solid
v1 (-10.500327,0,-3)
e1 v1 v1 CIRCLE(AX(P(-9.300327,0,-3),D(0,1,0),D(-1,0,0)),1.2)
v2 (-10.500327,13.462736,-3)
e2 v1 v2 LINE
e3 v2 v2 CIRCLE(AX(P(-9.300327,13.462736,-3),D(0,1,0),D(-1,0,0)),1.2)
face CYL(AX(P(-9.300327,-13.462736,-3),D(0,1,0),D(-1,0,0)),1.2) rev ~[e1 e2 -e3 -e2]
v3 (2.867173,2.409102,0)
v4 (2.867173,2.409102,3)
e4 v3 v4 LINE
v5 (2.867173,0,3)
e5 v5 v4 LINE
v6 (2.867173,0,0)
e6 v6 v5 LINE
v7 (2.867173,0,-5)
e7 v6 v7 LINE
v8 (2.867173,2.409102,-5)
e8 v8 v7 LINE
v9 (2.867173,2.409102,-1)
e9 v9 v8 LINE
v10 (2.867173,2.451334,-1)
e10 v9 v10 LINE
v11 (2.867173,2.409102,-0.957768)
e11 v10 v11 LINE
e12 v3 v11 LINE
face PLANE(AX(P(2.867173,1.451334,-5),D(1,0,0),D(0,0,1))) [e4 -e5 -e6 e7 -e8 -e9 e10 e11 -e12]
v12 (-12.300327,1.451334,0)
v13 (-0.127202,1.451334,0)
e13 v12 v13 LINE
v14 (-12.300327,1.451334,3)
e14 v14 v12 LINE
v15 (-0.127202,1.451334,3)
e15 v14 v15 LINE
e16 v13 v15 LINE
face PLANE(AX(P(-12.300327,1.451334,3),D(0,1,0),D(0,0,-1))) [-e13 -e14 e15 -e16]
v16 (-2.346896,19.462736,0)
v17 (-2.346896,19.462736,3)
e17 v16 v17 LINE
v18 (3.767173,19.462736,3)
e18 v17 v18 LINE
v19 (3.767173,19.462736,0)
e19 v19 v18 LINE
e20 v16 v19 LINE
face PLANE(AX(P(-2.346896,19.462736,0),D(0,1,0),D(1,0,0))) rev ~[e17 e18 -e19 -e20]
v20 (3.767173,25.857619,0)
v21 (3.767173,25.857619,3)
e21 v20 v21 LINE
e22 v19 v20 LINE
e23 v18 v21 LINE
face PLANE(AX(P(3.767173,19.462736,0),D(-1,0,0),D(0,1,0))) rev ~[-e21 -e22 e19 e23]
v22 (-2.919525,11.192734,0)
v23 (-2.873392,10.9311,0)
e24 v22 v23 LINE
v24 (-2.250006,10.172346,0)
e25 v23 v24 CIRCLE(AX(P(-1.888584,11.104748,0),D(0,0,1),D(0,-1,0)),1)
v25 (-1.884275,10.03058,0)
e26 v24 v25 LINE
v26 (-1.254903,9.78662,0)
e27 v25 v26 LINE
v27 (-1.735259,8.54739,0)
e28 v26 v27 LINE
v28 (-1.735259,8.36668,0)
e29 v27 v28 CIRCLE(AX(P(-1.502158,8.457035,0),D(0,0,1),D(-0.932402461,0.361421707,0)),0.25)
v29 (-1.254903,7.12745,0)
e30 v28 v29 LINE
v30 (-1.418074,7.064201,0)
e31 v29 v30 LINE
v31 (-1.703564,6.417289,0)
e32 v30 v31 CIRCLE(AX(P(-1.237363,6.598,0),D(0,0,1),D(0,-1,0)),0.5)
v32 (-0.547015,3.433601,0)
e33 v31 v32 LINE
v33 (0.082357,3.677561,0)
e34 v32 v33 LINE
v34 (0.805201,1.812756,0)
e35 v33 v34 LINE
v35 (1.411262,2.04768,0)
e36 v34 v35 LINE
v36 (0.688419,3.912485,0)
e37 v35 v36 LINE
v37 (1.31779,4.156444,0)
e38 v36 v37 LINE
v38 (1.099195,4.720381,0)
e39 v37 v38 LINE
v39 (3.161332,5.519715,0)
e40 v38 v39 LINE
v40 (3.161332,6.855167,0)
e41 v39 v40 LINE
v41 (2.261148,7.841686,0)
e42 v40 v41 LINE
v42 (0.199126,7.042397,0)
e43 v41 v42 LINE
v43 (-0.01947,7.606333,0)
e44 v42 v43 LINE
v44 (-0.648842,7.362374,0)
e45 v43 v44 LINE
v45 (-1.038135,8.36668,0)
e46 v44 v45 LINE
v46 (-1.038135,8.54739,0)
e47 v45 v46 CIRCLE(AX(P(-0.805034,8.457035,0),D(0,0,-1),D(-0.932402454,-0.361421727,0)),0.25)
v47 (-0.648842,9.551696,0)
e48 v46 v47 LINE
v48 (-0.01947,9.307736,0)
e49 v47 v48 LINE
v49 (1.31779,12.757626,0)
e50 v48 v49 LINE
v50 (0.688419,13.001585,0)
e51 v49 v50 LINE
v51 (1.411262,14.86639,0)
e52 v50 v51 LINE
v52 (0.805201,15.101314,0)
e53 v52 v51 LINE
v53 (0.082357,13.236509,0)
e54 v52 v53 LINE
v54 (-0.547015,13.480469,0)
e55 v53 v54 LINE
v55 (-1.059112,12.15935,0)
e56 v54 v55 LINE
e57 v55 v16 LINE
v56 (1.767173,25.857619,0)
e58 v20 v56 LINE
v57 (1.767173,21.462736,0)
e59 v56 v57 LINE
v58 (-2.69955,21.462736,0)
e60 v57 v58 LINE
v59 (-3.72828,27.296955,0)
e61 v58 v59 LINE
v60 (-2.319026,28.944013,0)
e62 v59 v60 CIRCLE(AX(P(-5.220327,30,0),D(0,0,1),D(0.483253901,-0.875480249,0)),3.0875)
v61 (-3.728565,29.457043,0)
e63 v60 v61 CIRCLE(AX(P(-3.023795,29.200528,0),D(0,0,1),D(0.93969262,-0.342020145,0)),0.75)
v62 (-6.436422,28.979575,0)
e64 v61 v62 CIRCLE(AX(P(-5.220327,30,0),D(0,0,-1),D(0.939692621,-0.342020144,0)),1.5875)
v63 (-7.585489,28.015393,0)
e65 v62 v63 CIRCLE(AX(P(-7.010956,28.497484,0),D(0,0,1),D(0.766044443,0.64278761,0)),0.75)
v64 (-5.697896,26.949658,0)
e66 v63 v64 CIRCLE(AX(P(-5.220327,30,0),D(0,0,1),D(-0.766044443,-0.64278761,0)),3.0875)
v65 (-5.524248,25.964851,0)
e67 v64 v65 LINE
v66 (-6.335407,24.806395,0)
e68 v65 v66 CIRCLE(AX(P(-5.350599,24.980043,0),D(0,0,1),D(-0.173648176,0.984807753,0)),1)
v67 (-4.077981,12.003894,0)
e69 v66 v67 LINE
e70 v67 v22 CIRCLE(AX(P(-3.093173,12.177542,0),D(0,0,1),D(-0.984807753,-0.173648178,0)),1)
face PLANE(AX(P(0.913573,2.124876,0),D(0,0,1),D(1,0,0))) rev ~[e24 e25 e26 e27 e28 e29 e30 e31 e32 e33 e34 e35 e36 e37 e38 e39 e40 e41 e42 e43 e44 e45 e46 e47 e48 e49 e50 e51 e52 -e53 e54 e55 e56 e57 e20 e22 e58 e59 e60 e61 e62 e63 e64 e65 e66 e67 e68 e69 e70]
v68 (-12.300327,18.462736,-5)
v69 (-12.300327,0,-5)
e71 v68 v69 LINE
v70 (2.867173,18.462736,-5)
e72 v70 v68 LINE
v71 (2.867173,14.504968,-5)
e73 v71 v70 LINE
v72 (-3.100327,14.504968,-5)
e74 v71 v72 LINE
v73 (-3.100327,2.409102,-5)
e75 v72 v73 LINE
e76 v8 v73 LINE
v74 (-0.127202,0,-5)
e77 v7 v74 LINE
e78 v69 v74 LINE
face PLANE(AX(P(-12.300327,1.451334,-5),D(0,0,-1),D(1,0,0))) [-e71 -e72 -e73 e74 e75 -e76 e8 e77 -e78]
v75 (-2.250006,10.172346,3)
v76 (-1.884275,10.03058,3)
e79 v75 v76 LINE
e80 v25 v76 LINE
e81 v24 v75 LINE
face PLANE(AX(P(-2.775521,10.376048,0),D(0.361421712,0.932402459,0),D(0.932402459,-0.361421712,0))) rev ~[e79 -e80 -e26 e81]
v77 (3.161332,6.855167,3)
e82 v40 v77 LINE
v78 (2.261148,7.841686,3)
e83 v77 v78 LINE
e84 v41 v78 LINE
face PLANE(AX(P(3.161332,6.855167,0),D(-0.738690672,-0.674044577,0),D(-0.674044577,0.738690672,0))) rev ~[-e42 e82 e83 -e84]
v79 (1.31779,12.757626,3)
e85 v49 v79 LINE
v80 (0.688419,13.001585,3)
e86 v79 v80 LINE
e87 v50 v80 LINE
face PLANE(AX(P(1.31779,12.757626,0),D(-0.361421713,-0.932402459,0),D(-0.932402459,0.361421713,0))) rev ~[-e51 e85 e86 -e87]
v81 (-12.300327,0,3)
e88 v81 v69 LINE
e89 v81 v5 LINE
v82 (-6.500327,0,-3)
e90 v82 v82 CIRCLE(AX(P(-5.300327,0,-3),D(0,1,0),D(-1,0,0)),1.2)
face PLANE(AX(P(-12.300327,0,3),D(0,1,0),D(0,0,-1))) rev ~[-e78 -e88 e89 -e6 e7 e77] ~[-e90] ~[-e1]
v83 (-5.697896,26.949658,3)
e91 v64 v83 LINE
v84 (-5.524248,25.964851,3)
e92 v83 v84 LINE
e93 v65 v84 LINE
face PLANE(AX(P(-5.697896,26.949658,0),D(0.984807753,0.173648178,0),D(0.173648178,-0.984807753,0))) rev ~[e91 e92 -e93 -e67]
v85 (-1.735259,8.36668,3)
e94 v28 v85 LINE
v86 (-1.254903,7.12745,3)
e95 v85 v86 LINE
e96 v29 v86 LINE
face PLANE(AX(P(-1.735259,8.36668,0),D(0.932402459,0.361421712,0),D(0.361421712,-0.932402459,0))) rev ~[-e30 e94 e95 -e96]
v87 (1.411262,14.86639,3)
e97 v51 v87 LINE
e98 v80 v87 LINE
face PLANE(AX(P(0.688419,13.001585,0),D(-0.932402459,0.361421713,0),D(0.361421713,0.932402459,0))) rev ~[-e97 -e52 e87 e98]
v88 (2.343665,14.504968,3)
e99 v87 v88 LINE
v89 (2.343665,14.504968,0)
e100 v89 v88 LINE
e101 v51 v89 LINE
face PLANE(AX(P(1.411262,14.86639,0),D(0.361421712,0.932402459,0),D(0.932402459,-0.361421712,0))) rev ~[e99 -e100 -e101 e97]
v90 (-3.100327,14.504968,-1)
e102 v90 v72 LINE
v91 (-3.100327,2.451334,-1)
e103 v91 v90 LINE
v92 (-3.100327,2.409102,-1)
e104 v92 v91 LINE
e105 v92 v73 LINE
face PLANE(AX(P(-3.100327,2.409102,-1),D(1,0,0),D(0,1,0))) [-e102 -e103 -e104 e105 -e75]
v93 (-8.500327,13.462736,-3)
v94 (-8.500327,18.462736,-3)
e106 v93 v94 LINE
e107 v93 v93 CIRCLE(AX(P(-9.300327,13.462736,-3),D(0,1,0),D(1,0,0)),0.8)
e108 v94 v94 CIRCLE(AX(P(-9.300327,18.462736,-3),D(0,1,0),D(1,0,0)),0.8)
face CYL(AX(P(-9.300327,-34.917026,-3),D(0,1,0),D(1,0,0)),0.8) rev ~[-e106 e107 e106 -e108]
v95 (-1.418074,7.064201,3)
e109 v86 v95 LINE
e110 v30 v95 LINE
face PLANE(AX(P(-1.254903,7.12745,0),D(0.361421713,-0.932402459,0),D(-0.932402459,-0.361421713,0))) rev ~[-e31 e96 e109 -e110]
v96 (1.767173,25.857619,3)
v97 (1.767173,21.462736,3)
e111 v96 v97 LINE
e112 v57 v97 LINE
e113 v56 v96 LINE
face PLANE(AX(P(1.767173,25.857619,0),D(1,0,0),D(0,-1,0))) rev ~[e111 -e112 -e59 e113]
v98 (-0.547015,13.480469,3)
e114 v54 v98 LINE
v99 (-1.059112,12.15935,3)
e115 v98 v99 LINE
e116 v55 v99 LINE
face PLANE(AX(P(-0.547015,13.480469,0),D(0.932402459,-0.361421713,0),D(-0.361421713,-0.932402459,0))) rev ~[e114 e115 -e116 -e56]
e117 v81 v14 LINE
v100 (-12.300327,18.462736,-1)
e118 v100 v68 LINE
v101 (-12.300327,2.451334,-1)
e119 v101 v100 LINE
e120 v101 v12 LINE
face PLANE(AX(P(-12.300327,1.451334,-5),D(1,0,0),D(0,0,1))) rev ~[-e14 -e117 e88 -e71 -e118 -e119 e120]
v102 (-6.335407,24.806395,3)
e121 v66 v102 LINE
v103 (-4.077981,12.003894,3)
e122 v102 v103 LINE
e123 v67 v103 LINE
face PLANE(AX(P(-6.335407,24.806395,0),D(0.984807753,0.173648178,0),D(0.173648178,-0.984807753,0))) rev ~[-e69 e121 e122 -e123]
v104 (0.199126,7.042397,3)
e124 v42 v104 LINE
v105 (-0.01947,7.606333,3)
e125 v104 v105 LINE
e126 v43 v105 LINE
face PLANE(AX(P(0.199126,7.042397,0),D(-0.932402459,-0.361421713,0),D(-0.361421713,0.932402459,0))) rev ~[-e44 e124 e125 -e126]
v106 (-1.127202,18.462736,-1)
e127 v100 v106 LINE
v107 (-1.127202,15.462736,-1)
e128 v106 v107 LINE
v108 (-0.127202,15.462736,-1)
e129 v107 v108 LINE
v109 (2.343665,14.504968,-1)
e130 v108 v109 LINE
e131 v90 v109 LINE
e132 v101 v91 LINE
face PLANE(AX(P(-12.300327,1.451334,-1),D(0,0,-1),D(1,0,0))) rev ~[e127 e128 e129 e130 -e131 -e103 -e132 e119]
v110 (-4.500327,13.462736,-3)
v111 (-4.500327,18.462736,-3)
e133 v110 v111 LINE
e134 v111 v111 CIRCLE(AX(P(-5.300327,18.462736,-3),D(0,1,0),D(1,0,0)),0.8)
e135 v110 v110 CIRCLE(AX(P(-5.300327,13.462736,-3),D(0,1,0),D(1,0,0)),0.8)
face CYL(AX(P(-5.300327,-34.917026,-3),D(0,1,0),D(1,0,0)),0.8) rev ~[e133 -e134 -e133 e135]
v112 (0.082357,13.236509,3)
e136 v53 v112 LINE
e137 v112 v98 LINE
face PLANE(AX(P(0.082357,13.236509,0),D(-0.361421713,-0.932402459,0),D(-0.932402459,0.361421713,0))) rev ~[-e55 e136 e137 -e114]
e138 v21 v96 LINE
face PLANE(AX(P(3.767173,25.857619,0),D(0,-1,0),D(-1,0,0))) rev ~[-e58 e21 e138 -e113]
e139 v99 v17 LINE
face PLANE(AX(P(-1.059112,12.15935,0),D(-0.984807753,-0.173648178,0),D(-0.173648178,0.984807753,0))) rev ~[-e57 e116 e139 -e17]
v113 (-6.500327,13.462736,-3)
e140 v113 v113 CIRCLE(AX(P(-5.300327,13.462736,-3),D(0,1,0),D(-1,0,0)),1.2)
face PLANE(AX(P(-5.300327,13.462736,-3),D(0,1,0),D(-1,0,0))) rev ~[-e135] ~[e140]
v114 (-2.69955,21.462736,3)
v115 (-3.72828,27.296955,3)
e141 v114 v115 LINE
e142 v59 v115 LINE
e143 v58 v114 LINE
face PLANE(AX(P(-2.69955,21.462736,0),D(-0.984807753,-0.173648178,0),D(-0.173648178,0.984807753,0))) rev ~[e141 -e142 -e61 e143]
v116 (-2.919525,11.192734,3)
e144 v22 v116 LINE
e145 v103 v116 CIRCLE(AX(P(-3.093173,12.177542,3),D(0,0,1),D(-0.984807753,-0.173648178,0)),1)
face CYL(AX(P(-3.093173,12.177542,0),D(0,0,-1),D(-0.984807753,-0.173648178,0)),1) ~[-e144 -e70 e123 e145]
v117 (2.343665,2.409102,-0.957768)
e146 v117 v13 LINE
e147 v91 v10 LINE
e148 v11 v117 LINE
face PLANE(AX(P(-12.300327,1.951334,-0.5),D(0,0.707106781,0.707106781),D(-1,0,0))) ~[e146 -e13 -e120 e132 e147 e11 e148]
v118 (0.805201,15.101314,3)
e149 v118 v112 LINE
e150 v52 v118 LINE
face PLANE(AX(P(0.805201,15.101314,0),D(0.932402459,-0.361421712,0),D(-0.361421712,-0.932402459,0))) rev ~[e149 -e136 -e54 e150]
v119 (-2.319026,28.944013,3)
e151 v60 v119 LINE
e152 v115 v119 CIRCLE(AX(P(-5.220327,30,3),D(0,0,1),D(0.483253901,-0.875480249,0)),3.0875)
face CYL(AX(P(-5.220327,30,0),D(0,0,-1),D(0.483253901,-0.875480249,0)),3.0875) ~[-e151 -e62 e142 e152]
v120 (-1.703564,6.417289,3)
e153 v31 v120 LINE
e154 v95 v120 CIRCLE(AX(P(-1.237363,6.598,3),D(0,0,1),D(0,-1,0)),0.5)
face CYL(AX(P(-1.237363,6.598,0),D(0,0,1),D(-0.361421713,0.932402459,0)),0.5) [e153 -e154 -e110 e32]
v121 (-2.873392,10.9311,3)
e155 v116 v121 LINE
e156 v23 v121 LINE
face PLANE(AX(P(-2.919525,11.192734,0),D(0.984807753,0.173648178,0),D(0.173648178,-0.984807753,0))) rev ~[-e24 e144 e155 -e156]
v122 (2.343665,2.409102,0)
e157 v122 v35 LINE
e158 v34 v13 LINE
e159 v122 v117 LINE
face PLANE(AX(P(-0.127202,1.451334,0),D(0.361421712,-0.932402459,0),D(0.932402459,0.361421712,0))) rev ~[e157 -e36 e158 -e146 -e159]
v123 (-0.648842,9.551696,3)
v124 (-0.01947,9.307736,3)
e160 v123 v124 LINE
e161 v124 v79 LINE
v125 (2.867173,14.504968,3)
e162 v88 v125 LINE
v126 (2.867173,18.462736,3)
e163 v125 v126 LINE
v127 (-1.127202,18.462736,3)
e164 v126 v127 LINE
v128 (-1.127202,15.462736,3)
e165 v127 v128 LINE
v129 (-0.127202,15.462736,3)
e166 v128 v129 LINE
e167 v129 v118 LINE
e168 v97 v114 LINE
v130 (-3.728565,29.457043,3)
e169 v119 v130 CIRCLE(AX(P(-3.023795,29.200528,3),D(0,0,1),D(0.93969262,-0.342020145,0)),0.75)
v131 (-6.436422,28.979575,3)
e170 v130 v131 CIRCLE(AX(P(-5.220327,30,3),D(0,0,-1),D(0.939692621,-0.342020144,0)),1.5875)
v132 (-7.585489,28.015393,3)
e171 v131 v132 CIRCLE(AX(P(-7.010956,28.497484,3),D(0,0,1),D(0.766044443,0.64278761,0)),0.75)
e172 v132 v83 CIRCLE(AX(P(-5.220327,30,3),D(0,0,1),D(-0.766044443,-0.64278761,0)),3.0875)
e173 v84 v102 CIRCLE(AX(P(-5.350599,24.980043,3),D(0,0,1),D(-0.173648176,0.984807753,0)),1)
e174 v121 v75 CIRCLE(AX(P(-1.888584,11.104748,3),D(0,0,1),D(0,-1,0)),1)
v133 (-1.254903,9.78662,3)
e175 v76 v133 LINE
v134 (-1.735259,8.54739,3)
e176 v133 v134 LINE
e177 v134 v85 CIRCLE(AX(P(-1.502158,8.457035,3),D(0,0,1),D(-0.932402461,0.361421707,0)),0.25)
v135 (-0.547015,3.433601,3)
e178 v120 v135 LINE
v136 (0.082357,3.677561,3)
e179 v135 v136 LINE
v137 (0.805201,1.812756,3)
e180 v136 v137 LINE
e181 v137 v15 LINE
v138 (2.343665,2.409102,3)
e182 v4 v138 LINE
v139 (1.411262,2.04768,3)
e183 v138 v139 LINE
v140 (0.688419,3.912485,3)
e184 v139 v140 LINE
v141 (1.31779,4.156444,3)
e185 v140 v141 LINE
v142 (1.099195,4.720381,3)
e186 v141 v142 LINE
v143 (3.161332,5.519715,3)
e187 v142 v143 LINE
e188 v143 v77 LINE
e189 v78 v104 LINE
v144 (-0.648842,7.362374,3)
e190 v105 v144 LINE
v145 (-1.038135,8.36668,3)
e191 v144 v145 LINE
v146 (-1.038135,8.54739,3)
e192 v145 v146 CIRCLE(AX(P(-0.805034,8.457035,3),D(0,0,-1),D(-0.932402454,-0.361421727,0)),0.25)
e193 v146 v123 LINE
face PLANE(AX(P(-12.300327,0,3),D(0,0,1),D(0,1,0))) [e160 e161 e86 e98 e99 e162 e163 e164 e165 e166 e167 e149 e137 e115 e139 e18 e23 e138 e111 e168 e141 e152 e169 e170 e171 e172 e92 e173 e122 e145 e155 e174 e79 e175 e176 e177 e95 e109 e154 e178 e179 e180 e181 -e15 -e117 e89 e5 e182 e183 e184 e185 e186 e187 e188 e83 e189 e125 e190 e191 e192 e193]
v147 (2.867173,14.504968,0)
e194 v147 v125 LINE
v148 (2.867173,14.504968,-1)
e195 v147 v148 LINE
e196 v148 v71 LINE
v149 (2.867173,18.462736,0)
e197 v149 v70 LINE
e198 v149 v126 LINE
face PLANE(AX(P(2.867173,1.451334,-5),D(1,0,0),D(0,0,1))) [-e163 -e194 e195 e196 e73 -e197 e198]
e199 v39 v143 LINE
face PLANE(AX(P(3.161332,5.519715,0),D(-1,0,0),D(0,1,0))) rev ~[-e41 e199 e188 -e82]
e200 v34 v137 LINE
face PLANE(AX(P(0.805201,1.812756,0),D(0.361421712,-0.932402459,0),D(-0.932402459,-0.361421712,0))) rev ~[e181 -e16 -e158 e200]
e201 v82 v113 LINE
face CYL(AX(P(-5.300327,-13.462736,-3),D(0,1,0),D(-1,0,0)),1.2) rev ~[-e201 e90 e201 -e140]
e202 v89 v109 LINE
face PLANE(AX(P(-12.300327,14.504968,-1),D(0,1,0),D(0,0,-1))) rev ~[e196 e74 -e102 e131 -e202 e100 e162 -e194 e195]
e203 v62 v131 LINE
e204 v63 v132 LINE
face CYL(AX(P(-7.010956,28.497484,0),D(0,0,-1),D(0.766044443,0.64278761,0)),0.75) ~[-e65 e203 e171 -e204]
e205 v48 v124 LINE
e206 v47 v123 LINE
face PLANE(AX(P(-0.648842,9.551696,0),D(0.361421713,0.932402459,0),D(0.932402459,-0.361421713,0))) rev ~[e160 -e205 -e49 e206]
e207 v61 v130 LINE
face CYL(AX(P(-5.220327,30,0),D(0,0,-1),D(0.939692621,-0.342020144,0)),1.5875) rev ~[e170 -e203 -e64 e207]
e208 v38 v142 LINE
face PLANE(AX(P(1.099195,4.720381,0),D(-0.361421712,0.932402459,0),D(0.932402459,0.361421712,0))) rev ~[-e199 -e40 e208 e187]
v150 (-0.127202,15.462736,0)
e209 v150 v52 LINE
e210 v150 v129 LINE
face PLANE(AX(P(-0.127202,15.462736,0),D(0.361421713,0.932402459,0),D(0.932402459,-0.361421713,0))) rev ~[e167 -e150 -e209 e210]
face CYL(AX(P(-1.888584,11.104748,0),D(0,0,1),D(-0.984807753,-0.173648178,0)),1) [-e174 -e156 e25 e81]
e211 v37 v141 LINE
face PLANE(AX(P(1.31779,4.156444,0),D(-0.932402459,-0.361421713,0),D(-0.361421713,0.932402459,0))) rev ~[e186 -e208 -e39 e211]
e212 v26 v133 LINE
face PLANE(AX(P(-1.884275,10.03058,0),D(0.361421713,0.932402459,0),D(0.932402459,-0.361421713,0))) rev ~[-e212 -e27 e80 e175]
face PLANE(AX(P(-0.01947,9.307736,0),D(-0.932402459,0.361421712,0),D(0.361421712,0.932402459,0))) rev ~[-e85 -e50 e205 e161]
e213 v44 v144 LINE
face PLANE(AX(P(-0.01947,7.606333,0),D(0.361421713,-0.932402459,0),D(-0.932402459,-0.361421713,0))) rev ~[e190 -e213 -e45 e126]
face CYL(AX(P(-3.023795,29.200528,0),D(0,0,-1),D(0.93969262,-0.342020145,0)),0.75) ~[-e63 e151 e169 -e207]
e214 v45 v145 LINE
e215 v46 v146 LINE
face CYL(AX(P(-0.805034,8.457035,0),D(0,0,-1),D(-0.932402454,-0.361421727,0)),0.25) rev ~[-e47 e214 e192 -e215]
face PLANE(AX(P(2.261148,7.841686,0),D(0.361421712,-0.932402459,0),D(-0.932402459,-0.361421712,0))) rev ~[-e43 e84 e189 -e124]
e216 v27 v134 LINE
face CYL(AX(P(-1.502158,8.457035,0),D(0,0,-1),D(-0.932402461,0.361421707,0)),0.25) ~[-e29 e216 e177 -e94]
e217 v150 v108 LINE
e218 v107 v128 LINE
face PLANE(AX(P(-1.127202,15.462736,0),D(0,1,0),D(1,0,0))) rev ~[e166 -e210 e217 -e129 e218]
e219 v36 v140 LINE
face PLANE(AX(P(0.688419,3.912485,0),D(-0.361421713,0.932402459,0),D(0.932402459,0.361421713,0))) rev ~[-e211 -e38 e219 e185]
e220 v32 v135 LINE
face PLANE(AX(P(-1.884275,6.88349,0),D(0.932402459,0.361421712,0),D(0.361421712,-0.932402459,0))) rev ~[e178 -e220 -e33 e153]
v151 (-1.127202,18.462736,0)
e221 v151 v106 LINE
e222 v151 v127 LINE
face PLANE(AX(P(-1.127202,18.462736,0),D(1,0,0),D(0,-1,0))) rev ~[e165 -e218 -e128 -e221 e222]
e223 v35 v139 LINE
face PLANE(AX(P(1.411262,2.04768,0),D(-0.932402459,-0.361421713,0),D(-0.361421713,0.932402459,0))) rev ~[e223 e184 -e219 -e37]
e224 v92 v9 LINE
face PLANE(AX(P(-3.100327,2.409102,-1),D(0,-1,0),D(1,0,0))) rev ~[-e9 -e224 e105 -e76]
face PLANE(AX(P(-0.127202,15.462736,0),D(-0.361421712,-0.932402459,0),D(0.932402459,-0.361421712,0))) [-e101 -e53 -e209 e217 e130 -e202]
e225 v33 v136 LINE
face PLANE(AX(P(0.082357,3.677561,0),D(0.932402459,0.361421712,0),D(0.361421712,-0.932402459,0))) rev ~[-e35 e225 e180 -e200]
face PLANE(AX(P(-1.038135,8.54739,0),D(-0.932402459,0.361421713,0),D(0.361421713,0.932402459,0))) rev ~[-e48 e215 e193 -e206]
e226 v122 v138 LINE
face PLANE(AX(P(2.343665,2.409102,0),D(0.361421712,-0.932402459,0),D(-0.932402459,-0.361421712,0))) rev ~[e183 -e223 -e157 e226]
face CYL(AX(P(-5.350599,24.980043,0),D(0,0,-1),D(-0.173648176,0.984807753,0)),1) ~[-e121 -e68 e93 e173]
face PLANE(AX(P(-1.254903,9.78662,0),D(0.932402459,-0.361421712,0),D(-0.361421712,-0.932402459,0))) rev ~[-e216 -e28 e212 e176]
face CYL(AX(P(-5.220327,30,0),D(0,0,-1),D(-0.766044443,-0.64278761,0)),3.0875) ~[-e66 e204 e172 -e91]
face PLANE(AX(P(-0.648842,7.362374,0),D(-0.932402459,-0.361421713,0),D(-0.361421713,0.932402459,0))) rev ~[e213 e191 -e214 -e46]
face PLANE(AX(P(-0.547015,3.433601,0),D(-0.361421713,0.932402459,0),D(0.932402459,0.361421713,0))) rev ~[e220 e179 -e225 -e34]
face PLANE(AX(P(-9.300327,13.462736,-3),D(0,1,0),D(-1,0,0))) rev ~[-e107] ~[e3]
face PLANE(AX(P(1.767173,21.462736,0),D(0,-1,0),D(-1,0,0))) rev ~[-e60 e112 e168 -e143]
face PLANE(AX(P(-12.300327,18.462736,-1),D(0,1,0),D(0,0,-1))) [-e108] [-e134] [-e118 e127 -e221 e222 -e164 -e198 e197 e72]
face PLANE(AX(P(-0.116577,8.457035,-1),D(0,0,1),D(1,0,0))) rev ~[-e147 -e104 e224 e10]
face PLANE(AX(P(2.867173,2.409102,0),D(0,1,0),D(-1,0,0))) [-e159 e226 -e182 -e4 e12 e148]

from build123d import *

# Parameters (mm, degrees)
BOSS_SWITCH_BODY_DEPTH            = 3
SKETCH1_W                         = 2.994375291
SKETCH1_H                         = 2.409101515
SKETCH1_W_2                       = 3.994375291
SKETCH1_H_2                       = 3.957767538
BOSS_FLANGE_WIDTH_DEPTH           = 5
BOSS_FLANGE_HEIGHT_REACH          = 36.354
SKETCH2_W                         = 4
SKETCH2_H                         = 3.957767538
SKETCH2_W_2                       = 8
SKETCH2_H_2                       = 1.451333978
SKETCH17_W                        = 15.1675
SKETCH17_H                        = 4
BOSS_FLANGE_SUPPORT_DEPTH         = 13.053634428
CUT_WALL_GAP_DEPTH                = 1
TAP_DRILL_FOR_M2X0_4_TAP1_D       = 1.6
M2_CLEARANCE_HOLE2_D              = 2.4
M2_CLEARANCE_HOLE2_DEPTH          = 13.462735941
CHAMFER_FLANGE_SUPPORT_3_SIZE     = 1
FILLET1_R                         = 1
FILLET2_R                         = 0.5
SKETCH28_W                        = 5.9675
SKETCH28_H                        = 12.095866891
CUT_PRINT_SUPPORT_CLEARANCE_DEPTH = 33.624103931


with BuildPart() as part:
    # Sketch-SwitchBossUp → Boss-Switch Body (new body)
    with BuildSketch(Plane.XY):
        with BuildLine():
            Line((-5.697895702, 26.949658376), (-5.524247524, 25.964850623))
            ThreePointArc((-5.524247524, 25.964850623), (-6.169751391, 25.553619307), (-6.3354071, 24.806394693))
            Line((-6.3354071, 24.806394693), (-4.07798079, 12.003893904))
            ThreePointArc((-4.07798079, 12.003893904), (-3.666749473, 11.358390037), (-2.919524859, 11.192734328))
            Line((-2.919524859, 11.192734328), (-2.775521101, 10.376048434))
            Line((-2.775521101, 10.376048434), (-1.884274871, 10.03057987))
            Line((-1.884274871, 10.03057987), (-1.254903211, 9.786620214))
            Line((-1.254903211, 9.786620214), (-1.735258621, 8.547390389))
            ThreePointArc((-1.735258621, 8.547390389), (-1.752158006, 8.457034961), (-1.735258621, 8.366679532))
            Line((-1.735258621, 8.366679532), (-1.254903211, 7.127449707))
            Line((-1.254903211, 7.127449707), (-1.884274871, 6.883490051))
            Line((-1.884274871, 6.883490051), (-0.547014535, 3.433600952))
            Line((-0.547014535, 3.433600952), (0.082357125, 3.677560608))
            Line((0.082357125, 3.677560608), (0.805200549, 1.81275569))
            Line((0.805200549, 1.81275569), (-0.12720191, 1.451333978))
            Line((-0.12720191, 1.451333978), (-0.12720191, 0))
            Line((-0.12720191, 0), (2.867173381, 0))
            Line((2.867173381, 0), (2.867173381, 2.409101515))
            Line((2.867173381, 2.409101515), (2.343664607, 2.409101515))
            Line((2.343664607, 2.409101515), (1.411262148, 2.047679803))
            Line((1.411262148, 2.047679803), (0.688418723, 3.912484721))
            Line((0.688418723, 3.912484721), (1.317790383, 4.156444377))
            Line((1.317790383, 4.156444377), (1.099194858, 4.720381179))
            Line((1.099194858, 4.720381179), (3.161331824, 5.519715271))
            Line((3.161331824, 5.519715271), (3.161331824, 6.855167315))
            Line((3.161331824, 6.855167315), (2.261147576, 7.841686204))
            Line((2.261147576, 7.841686204), (0.199125572, 7.042396674))
            Line((0.199125572, 7.042396674), (-0.019469953, 7.606333476))
            Line((-0.019469953, 7.606333476), (-0.648841612, 7.36237382))
            Line((-0.648841612, 7.36237382), (-1.038134762, 8.366679532))
            ThreePointArc((-1.038134762, 8.366679532), (-1.055034148, 8.457034961), (-1.038134762, 8.547390389))
            Line((-1.038134762, 8.547390389), (-0.648841612, 9.551696101))
            Line((-0.648841612, 9.551696101), (-0.019469953, 9.307736445))
            Line((-0.019469953, 9.307736445), (1.317790383, 12.757625544))
            Line((1.317790383, 12.757625544), (0.688418723, 13.0015852))
            Line((0.688418723, 13.0015852), (1.411262148, 14.866390118))
            Line((1.411262148, 14.866390118), (2.343664607, 14.504968406))
            Line((2.343664607, 14.504968406), (2.867173381, 14.504968406))
            Line((2.867173381, 14.504968406), (2.867173381, 18.462735944))
            Line((2.867173381, 18.462735944), (-0.111637615, 18.462735944))
            Line((-0.111637615, 18.462735944), (-1.12720191, 18.462735944))
            Line((-1.12720191, 18.462735944), (-1.12720191, 15.462735944))
            Line((-1.12720191, 15.462735944), (-0.12720191, 15.462735944))
            Line((-0.12720191, 15.462735944), (0.805200549, 15.101314231))
            Line((0.805200549, 15.101314231), (0.082357125, 13.236509313))
            Line((0.082357125, 13.236509313), (-0.547014535, 13.480468969))
            Line((-0.547014535, 13.480468969), (-1.059112089, 12.159350171))
            Line((-1.059112089, 12.159350171), (-2.346896051, 19.462735944))
            Line((-2.346896051, 19.462735944), (3.767173381, 19.462735944))
            Line((3.767173381, 19.462735944), (3.767173381, 25.857619356))
            Line((3.767173381, 25.857619356), (1.767173381, 25.857619356))
            Line((1.767173381, 25.857619356), (1.767173381, 21.462735944))
            Line((1.767173381, 21.462735944), (-2.699550012, 21.462735944))
            Line((-2.699550012, 21.462735944), (-3.728280196, 27.296954732))
            ThreePointArc((-3.728280196, 27.296954732), (-2.874356585, 27.992742953), (-2.319025652, 28.944012807))
            ThreePointArc((-2.319025652, 28.944012807), (-2.76728001, 29.905297381), (-3.728564583, 29.457043022))
            ThreePointArc((-3.728564583, 29.457043022), (-4.944660137, 28.436617692), (-6.436422172, 28.97957467))
            ThreePointArc((-6.436422172, 28.97957467), (-7.493046212, 29.072017295), (-7.585488837, 28.015393255))
            ThreePointArc((-7.585488837, 28.015393255), (-6.738295005, 27.311426358), (-5.697895702, 26.949658376))
        make_face()
    extrude(amount=BOSS_SWITCH_BODY_DEPTH)

    # Sketch1 → Boss-Flange Width (add)
    with BuildSketch(Plane(origin=(0, 0, 0), x_dir=(-1, 0, 0), z_dir=(0, 0, -1))):
        with Locations((-1.369985736, 1.204550758)):
            Rectangle(SKETCH1_W, SKETCH1_H)
        with Locations((-0.869985736, 16.483852175)):
            Rectangle(SKETCH1_W_2, SKETCH1_H_2)
    extrude(amount=BOSS_FLANGE_WIDTH_DEPTH)

    # Boss-Flange Height: up to this face of the body (flat: up to its plane)
    boss_flange_height_end = Plane(part.part.faces().sort_by_distance((-0.12720191, 1.077409098, -1.438016547))[0])
    # Sketch2 → Boss-Flange Height (add, up to the picked face)
    with BuildSketch(Plane(origin=(-12.300326619, 0, 0), x_dir=(0, 0, -1), z_dir=(1, 0, 0)), mode=Mode.PRIVATE) as boss_flange_height_sk1:
        with Locations((3, 16.483852175)):
            Rectangle(SKETCH2_W, SKETCH2_H)
    boss_flange_height_tool1 = split(extrude(boss_flange_height_sk1.sketch, amount=BOSS_FLANGE_HEIGHT_REACH, mode=Mode.PRIVATE), bisect_by=boss_flange_height_end, keep=Keep.BOTH, mode=Mode.PRIVATE)
    # Sketch2 → Boss-Flange Height (add, up to the picked face)
    with BuildSketch(Plane(origin=(-12.300326619, 0, 0), x_dir=(0, 0, -1), z_dir=(1, 0, 0)), mode=Mode.PRIVATE) as boss_flange_height_sk2:
        with Locations((1, 0.725666989)):
            Rectangle(SKETCH2_W_2, SKETCH2_H_2)
    boss_flange_height_tool2 = split(extrude(boss_flange_height_sk2.sketch, amount=BOSS_FLANGE_HEIGHT_REACH, mode=Mode.PRIVATE), bisect_by=boss_flange_height_end, keep=Keep.BOTH, mode=Mode.PRIVATE)
    add(boss_flange_height_tool1.solids().sort_by(Axis((-12.300327, 16.483852, -3), (1, 0, 0)))[0])
    add(boss_flange_height_tool2.solids().sort_by(Axis((-12.300327, 0.725667, -1), (1, 0, 0)))[0])

    # Sketch17 → Boss-Flange Support (add)
    with BuildSketch(Plane.XZ.offset(-1.451333978)):
        with Locations((-4.716576619, -3)):
            Rectangle(SKETCH17_W, SKETCH17_H)
    extrude(amount=-BOSS_FLANGE_SUPPORT_DEPTH)

    # Sketch27 → Cut-Wall Gap (cut)
    with BuildSketch(Plane.XY):
        Polygon((-0.12720191, 15.462735944), (2.343664607, 14.504968406), (-1.12720191, 14.504968406), (-1.12720191, 15.462735944), align=None)
        Polygon((2.343664607, 2.409101515), (-0.12720191, 2.409101515), (-0.12720191, 1.451333978), align=None)
    extrude(amount=-CUT_WALL_GAP_DEPTH, mode=Mode.SUBTRACT)

    # Tap Drill for M2x0.4 Tap1 (through all)
    with Locations(Plane(origin=(0, 0, 0), x_dir=(-1, 0, 0), z_dir=(0, -1, 0))):
        with Locations((9.300326619, 3), (5.300326619, 3)):
            Hole(TAP_DRILL_FOR_M2X0_4_TAP1_D / 2)

    # M2 Clearance Hole2
    with Locations(Plane.XZ):
        with Locations((-9.300326619, -3), (-5.300326619, -3)):
            Hole(M2_CLEARANCE_HOLE2_D / 2, depth=M2_CLEARANCE_HOLE2_DEPTH)

    # Chamfer-Flange Support 3
    chamfer_flange_support_3_edges = [part.edges().sort_by_distance(p)[0] for p in [
        (-6.213764264, 1.451333978, -1),
    ]]
    chamfer(chamfer_flange_support_3_edges, length=CHAMFER_FLANGE_SUPPORT_3_SIZE)

    # Fillet1
    fillet1_edges = [part.edges().sort_by_distance(p)[0] for p in [
        (-2.775521101, 10.376048434, 1.5),
    ]]
    fillet(fillet1_edges, radius=FILLET1_R)

    # Fillet2
    fillet2_edges = [part.edges().sort_by_distance(p)[0] for p in [
        (-1.884274871, 6.883490051, 1.5),
    ]]
    fillet(fillet2_edges, radius=FILLET2_R)

    # Sketch28 → Cut-Print Support Clearance (cut, through all)
    with BuildSketch(Plane.XY.offset(-1)):
        with Locations((-0.116576619, 8.457034961)):
            Rectangle(SKETCH28_W, SKETCH28_H)
    extrude(amount=-CUT_PRINT_SUPPORT_CLEARANCE_DEPTH, mode=Mode.SUBTRACT)


solid = part.part
